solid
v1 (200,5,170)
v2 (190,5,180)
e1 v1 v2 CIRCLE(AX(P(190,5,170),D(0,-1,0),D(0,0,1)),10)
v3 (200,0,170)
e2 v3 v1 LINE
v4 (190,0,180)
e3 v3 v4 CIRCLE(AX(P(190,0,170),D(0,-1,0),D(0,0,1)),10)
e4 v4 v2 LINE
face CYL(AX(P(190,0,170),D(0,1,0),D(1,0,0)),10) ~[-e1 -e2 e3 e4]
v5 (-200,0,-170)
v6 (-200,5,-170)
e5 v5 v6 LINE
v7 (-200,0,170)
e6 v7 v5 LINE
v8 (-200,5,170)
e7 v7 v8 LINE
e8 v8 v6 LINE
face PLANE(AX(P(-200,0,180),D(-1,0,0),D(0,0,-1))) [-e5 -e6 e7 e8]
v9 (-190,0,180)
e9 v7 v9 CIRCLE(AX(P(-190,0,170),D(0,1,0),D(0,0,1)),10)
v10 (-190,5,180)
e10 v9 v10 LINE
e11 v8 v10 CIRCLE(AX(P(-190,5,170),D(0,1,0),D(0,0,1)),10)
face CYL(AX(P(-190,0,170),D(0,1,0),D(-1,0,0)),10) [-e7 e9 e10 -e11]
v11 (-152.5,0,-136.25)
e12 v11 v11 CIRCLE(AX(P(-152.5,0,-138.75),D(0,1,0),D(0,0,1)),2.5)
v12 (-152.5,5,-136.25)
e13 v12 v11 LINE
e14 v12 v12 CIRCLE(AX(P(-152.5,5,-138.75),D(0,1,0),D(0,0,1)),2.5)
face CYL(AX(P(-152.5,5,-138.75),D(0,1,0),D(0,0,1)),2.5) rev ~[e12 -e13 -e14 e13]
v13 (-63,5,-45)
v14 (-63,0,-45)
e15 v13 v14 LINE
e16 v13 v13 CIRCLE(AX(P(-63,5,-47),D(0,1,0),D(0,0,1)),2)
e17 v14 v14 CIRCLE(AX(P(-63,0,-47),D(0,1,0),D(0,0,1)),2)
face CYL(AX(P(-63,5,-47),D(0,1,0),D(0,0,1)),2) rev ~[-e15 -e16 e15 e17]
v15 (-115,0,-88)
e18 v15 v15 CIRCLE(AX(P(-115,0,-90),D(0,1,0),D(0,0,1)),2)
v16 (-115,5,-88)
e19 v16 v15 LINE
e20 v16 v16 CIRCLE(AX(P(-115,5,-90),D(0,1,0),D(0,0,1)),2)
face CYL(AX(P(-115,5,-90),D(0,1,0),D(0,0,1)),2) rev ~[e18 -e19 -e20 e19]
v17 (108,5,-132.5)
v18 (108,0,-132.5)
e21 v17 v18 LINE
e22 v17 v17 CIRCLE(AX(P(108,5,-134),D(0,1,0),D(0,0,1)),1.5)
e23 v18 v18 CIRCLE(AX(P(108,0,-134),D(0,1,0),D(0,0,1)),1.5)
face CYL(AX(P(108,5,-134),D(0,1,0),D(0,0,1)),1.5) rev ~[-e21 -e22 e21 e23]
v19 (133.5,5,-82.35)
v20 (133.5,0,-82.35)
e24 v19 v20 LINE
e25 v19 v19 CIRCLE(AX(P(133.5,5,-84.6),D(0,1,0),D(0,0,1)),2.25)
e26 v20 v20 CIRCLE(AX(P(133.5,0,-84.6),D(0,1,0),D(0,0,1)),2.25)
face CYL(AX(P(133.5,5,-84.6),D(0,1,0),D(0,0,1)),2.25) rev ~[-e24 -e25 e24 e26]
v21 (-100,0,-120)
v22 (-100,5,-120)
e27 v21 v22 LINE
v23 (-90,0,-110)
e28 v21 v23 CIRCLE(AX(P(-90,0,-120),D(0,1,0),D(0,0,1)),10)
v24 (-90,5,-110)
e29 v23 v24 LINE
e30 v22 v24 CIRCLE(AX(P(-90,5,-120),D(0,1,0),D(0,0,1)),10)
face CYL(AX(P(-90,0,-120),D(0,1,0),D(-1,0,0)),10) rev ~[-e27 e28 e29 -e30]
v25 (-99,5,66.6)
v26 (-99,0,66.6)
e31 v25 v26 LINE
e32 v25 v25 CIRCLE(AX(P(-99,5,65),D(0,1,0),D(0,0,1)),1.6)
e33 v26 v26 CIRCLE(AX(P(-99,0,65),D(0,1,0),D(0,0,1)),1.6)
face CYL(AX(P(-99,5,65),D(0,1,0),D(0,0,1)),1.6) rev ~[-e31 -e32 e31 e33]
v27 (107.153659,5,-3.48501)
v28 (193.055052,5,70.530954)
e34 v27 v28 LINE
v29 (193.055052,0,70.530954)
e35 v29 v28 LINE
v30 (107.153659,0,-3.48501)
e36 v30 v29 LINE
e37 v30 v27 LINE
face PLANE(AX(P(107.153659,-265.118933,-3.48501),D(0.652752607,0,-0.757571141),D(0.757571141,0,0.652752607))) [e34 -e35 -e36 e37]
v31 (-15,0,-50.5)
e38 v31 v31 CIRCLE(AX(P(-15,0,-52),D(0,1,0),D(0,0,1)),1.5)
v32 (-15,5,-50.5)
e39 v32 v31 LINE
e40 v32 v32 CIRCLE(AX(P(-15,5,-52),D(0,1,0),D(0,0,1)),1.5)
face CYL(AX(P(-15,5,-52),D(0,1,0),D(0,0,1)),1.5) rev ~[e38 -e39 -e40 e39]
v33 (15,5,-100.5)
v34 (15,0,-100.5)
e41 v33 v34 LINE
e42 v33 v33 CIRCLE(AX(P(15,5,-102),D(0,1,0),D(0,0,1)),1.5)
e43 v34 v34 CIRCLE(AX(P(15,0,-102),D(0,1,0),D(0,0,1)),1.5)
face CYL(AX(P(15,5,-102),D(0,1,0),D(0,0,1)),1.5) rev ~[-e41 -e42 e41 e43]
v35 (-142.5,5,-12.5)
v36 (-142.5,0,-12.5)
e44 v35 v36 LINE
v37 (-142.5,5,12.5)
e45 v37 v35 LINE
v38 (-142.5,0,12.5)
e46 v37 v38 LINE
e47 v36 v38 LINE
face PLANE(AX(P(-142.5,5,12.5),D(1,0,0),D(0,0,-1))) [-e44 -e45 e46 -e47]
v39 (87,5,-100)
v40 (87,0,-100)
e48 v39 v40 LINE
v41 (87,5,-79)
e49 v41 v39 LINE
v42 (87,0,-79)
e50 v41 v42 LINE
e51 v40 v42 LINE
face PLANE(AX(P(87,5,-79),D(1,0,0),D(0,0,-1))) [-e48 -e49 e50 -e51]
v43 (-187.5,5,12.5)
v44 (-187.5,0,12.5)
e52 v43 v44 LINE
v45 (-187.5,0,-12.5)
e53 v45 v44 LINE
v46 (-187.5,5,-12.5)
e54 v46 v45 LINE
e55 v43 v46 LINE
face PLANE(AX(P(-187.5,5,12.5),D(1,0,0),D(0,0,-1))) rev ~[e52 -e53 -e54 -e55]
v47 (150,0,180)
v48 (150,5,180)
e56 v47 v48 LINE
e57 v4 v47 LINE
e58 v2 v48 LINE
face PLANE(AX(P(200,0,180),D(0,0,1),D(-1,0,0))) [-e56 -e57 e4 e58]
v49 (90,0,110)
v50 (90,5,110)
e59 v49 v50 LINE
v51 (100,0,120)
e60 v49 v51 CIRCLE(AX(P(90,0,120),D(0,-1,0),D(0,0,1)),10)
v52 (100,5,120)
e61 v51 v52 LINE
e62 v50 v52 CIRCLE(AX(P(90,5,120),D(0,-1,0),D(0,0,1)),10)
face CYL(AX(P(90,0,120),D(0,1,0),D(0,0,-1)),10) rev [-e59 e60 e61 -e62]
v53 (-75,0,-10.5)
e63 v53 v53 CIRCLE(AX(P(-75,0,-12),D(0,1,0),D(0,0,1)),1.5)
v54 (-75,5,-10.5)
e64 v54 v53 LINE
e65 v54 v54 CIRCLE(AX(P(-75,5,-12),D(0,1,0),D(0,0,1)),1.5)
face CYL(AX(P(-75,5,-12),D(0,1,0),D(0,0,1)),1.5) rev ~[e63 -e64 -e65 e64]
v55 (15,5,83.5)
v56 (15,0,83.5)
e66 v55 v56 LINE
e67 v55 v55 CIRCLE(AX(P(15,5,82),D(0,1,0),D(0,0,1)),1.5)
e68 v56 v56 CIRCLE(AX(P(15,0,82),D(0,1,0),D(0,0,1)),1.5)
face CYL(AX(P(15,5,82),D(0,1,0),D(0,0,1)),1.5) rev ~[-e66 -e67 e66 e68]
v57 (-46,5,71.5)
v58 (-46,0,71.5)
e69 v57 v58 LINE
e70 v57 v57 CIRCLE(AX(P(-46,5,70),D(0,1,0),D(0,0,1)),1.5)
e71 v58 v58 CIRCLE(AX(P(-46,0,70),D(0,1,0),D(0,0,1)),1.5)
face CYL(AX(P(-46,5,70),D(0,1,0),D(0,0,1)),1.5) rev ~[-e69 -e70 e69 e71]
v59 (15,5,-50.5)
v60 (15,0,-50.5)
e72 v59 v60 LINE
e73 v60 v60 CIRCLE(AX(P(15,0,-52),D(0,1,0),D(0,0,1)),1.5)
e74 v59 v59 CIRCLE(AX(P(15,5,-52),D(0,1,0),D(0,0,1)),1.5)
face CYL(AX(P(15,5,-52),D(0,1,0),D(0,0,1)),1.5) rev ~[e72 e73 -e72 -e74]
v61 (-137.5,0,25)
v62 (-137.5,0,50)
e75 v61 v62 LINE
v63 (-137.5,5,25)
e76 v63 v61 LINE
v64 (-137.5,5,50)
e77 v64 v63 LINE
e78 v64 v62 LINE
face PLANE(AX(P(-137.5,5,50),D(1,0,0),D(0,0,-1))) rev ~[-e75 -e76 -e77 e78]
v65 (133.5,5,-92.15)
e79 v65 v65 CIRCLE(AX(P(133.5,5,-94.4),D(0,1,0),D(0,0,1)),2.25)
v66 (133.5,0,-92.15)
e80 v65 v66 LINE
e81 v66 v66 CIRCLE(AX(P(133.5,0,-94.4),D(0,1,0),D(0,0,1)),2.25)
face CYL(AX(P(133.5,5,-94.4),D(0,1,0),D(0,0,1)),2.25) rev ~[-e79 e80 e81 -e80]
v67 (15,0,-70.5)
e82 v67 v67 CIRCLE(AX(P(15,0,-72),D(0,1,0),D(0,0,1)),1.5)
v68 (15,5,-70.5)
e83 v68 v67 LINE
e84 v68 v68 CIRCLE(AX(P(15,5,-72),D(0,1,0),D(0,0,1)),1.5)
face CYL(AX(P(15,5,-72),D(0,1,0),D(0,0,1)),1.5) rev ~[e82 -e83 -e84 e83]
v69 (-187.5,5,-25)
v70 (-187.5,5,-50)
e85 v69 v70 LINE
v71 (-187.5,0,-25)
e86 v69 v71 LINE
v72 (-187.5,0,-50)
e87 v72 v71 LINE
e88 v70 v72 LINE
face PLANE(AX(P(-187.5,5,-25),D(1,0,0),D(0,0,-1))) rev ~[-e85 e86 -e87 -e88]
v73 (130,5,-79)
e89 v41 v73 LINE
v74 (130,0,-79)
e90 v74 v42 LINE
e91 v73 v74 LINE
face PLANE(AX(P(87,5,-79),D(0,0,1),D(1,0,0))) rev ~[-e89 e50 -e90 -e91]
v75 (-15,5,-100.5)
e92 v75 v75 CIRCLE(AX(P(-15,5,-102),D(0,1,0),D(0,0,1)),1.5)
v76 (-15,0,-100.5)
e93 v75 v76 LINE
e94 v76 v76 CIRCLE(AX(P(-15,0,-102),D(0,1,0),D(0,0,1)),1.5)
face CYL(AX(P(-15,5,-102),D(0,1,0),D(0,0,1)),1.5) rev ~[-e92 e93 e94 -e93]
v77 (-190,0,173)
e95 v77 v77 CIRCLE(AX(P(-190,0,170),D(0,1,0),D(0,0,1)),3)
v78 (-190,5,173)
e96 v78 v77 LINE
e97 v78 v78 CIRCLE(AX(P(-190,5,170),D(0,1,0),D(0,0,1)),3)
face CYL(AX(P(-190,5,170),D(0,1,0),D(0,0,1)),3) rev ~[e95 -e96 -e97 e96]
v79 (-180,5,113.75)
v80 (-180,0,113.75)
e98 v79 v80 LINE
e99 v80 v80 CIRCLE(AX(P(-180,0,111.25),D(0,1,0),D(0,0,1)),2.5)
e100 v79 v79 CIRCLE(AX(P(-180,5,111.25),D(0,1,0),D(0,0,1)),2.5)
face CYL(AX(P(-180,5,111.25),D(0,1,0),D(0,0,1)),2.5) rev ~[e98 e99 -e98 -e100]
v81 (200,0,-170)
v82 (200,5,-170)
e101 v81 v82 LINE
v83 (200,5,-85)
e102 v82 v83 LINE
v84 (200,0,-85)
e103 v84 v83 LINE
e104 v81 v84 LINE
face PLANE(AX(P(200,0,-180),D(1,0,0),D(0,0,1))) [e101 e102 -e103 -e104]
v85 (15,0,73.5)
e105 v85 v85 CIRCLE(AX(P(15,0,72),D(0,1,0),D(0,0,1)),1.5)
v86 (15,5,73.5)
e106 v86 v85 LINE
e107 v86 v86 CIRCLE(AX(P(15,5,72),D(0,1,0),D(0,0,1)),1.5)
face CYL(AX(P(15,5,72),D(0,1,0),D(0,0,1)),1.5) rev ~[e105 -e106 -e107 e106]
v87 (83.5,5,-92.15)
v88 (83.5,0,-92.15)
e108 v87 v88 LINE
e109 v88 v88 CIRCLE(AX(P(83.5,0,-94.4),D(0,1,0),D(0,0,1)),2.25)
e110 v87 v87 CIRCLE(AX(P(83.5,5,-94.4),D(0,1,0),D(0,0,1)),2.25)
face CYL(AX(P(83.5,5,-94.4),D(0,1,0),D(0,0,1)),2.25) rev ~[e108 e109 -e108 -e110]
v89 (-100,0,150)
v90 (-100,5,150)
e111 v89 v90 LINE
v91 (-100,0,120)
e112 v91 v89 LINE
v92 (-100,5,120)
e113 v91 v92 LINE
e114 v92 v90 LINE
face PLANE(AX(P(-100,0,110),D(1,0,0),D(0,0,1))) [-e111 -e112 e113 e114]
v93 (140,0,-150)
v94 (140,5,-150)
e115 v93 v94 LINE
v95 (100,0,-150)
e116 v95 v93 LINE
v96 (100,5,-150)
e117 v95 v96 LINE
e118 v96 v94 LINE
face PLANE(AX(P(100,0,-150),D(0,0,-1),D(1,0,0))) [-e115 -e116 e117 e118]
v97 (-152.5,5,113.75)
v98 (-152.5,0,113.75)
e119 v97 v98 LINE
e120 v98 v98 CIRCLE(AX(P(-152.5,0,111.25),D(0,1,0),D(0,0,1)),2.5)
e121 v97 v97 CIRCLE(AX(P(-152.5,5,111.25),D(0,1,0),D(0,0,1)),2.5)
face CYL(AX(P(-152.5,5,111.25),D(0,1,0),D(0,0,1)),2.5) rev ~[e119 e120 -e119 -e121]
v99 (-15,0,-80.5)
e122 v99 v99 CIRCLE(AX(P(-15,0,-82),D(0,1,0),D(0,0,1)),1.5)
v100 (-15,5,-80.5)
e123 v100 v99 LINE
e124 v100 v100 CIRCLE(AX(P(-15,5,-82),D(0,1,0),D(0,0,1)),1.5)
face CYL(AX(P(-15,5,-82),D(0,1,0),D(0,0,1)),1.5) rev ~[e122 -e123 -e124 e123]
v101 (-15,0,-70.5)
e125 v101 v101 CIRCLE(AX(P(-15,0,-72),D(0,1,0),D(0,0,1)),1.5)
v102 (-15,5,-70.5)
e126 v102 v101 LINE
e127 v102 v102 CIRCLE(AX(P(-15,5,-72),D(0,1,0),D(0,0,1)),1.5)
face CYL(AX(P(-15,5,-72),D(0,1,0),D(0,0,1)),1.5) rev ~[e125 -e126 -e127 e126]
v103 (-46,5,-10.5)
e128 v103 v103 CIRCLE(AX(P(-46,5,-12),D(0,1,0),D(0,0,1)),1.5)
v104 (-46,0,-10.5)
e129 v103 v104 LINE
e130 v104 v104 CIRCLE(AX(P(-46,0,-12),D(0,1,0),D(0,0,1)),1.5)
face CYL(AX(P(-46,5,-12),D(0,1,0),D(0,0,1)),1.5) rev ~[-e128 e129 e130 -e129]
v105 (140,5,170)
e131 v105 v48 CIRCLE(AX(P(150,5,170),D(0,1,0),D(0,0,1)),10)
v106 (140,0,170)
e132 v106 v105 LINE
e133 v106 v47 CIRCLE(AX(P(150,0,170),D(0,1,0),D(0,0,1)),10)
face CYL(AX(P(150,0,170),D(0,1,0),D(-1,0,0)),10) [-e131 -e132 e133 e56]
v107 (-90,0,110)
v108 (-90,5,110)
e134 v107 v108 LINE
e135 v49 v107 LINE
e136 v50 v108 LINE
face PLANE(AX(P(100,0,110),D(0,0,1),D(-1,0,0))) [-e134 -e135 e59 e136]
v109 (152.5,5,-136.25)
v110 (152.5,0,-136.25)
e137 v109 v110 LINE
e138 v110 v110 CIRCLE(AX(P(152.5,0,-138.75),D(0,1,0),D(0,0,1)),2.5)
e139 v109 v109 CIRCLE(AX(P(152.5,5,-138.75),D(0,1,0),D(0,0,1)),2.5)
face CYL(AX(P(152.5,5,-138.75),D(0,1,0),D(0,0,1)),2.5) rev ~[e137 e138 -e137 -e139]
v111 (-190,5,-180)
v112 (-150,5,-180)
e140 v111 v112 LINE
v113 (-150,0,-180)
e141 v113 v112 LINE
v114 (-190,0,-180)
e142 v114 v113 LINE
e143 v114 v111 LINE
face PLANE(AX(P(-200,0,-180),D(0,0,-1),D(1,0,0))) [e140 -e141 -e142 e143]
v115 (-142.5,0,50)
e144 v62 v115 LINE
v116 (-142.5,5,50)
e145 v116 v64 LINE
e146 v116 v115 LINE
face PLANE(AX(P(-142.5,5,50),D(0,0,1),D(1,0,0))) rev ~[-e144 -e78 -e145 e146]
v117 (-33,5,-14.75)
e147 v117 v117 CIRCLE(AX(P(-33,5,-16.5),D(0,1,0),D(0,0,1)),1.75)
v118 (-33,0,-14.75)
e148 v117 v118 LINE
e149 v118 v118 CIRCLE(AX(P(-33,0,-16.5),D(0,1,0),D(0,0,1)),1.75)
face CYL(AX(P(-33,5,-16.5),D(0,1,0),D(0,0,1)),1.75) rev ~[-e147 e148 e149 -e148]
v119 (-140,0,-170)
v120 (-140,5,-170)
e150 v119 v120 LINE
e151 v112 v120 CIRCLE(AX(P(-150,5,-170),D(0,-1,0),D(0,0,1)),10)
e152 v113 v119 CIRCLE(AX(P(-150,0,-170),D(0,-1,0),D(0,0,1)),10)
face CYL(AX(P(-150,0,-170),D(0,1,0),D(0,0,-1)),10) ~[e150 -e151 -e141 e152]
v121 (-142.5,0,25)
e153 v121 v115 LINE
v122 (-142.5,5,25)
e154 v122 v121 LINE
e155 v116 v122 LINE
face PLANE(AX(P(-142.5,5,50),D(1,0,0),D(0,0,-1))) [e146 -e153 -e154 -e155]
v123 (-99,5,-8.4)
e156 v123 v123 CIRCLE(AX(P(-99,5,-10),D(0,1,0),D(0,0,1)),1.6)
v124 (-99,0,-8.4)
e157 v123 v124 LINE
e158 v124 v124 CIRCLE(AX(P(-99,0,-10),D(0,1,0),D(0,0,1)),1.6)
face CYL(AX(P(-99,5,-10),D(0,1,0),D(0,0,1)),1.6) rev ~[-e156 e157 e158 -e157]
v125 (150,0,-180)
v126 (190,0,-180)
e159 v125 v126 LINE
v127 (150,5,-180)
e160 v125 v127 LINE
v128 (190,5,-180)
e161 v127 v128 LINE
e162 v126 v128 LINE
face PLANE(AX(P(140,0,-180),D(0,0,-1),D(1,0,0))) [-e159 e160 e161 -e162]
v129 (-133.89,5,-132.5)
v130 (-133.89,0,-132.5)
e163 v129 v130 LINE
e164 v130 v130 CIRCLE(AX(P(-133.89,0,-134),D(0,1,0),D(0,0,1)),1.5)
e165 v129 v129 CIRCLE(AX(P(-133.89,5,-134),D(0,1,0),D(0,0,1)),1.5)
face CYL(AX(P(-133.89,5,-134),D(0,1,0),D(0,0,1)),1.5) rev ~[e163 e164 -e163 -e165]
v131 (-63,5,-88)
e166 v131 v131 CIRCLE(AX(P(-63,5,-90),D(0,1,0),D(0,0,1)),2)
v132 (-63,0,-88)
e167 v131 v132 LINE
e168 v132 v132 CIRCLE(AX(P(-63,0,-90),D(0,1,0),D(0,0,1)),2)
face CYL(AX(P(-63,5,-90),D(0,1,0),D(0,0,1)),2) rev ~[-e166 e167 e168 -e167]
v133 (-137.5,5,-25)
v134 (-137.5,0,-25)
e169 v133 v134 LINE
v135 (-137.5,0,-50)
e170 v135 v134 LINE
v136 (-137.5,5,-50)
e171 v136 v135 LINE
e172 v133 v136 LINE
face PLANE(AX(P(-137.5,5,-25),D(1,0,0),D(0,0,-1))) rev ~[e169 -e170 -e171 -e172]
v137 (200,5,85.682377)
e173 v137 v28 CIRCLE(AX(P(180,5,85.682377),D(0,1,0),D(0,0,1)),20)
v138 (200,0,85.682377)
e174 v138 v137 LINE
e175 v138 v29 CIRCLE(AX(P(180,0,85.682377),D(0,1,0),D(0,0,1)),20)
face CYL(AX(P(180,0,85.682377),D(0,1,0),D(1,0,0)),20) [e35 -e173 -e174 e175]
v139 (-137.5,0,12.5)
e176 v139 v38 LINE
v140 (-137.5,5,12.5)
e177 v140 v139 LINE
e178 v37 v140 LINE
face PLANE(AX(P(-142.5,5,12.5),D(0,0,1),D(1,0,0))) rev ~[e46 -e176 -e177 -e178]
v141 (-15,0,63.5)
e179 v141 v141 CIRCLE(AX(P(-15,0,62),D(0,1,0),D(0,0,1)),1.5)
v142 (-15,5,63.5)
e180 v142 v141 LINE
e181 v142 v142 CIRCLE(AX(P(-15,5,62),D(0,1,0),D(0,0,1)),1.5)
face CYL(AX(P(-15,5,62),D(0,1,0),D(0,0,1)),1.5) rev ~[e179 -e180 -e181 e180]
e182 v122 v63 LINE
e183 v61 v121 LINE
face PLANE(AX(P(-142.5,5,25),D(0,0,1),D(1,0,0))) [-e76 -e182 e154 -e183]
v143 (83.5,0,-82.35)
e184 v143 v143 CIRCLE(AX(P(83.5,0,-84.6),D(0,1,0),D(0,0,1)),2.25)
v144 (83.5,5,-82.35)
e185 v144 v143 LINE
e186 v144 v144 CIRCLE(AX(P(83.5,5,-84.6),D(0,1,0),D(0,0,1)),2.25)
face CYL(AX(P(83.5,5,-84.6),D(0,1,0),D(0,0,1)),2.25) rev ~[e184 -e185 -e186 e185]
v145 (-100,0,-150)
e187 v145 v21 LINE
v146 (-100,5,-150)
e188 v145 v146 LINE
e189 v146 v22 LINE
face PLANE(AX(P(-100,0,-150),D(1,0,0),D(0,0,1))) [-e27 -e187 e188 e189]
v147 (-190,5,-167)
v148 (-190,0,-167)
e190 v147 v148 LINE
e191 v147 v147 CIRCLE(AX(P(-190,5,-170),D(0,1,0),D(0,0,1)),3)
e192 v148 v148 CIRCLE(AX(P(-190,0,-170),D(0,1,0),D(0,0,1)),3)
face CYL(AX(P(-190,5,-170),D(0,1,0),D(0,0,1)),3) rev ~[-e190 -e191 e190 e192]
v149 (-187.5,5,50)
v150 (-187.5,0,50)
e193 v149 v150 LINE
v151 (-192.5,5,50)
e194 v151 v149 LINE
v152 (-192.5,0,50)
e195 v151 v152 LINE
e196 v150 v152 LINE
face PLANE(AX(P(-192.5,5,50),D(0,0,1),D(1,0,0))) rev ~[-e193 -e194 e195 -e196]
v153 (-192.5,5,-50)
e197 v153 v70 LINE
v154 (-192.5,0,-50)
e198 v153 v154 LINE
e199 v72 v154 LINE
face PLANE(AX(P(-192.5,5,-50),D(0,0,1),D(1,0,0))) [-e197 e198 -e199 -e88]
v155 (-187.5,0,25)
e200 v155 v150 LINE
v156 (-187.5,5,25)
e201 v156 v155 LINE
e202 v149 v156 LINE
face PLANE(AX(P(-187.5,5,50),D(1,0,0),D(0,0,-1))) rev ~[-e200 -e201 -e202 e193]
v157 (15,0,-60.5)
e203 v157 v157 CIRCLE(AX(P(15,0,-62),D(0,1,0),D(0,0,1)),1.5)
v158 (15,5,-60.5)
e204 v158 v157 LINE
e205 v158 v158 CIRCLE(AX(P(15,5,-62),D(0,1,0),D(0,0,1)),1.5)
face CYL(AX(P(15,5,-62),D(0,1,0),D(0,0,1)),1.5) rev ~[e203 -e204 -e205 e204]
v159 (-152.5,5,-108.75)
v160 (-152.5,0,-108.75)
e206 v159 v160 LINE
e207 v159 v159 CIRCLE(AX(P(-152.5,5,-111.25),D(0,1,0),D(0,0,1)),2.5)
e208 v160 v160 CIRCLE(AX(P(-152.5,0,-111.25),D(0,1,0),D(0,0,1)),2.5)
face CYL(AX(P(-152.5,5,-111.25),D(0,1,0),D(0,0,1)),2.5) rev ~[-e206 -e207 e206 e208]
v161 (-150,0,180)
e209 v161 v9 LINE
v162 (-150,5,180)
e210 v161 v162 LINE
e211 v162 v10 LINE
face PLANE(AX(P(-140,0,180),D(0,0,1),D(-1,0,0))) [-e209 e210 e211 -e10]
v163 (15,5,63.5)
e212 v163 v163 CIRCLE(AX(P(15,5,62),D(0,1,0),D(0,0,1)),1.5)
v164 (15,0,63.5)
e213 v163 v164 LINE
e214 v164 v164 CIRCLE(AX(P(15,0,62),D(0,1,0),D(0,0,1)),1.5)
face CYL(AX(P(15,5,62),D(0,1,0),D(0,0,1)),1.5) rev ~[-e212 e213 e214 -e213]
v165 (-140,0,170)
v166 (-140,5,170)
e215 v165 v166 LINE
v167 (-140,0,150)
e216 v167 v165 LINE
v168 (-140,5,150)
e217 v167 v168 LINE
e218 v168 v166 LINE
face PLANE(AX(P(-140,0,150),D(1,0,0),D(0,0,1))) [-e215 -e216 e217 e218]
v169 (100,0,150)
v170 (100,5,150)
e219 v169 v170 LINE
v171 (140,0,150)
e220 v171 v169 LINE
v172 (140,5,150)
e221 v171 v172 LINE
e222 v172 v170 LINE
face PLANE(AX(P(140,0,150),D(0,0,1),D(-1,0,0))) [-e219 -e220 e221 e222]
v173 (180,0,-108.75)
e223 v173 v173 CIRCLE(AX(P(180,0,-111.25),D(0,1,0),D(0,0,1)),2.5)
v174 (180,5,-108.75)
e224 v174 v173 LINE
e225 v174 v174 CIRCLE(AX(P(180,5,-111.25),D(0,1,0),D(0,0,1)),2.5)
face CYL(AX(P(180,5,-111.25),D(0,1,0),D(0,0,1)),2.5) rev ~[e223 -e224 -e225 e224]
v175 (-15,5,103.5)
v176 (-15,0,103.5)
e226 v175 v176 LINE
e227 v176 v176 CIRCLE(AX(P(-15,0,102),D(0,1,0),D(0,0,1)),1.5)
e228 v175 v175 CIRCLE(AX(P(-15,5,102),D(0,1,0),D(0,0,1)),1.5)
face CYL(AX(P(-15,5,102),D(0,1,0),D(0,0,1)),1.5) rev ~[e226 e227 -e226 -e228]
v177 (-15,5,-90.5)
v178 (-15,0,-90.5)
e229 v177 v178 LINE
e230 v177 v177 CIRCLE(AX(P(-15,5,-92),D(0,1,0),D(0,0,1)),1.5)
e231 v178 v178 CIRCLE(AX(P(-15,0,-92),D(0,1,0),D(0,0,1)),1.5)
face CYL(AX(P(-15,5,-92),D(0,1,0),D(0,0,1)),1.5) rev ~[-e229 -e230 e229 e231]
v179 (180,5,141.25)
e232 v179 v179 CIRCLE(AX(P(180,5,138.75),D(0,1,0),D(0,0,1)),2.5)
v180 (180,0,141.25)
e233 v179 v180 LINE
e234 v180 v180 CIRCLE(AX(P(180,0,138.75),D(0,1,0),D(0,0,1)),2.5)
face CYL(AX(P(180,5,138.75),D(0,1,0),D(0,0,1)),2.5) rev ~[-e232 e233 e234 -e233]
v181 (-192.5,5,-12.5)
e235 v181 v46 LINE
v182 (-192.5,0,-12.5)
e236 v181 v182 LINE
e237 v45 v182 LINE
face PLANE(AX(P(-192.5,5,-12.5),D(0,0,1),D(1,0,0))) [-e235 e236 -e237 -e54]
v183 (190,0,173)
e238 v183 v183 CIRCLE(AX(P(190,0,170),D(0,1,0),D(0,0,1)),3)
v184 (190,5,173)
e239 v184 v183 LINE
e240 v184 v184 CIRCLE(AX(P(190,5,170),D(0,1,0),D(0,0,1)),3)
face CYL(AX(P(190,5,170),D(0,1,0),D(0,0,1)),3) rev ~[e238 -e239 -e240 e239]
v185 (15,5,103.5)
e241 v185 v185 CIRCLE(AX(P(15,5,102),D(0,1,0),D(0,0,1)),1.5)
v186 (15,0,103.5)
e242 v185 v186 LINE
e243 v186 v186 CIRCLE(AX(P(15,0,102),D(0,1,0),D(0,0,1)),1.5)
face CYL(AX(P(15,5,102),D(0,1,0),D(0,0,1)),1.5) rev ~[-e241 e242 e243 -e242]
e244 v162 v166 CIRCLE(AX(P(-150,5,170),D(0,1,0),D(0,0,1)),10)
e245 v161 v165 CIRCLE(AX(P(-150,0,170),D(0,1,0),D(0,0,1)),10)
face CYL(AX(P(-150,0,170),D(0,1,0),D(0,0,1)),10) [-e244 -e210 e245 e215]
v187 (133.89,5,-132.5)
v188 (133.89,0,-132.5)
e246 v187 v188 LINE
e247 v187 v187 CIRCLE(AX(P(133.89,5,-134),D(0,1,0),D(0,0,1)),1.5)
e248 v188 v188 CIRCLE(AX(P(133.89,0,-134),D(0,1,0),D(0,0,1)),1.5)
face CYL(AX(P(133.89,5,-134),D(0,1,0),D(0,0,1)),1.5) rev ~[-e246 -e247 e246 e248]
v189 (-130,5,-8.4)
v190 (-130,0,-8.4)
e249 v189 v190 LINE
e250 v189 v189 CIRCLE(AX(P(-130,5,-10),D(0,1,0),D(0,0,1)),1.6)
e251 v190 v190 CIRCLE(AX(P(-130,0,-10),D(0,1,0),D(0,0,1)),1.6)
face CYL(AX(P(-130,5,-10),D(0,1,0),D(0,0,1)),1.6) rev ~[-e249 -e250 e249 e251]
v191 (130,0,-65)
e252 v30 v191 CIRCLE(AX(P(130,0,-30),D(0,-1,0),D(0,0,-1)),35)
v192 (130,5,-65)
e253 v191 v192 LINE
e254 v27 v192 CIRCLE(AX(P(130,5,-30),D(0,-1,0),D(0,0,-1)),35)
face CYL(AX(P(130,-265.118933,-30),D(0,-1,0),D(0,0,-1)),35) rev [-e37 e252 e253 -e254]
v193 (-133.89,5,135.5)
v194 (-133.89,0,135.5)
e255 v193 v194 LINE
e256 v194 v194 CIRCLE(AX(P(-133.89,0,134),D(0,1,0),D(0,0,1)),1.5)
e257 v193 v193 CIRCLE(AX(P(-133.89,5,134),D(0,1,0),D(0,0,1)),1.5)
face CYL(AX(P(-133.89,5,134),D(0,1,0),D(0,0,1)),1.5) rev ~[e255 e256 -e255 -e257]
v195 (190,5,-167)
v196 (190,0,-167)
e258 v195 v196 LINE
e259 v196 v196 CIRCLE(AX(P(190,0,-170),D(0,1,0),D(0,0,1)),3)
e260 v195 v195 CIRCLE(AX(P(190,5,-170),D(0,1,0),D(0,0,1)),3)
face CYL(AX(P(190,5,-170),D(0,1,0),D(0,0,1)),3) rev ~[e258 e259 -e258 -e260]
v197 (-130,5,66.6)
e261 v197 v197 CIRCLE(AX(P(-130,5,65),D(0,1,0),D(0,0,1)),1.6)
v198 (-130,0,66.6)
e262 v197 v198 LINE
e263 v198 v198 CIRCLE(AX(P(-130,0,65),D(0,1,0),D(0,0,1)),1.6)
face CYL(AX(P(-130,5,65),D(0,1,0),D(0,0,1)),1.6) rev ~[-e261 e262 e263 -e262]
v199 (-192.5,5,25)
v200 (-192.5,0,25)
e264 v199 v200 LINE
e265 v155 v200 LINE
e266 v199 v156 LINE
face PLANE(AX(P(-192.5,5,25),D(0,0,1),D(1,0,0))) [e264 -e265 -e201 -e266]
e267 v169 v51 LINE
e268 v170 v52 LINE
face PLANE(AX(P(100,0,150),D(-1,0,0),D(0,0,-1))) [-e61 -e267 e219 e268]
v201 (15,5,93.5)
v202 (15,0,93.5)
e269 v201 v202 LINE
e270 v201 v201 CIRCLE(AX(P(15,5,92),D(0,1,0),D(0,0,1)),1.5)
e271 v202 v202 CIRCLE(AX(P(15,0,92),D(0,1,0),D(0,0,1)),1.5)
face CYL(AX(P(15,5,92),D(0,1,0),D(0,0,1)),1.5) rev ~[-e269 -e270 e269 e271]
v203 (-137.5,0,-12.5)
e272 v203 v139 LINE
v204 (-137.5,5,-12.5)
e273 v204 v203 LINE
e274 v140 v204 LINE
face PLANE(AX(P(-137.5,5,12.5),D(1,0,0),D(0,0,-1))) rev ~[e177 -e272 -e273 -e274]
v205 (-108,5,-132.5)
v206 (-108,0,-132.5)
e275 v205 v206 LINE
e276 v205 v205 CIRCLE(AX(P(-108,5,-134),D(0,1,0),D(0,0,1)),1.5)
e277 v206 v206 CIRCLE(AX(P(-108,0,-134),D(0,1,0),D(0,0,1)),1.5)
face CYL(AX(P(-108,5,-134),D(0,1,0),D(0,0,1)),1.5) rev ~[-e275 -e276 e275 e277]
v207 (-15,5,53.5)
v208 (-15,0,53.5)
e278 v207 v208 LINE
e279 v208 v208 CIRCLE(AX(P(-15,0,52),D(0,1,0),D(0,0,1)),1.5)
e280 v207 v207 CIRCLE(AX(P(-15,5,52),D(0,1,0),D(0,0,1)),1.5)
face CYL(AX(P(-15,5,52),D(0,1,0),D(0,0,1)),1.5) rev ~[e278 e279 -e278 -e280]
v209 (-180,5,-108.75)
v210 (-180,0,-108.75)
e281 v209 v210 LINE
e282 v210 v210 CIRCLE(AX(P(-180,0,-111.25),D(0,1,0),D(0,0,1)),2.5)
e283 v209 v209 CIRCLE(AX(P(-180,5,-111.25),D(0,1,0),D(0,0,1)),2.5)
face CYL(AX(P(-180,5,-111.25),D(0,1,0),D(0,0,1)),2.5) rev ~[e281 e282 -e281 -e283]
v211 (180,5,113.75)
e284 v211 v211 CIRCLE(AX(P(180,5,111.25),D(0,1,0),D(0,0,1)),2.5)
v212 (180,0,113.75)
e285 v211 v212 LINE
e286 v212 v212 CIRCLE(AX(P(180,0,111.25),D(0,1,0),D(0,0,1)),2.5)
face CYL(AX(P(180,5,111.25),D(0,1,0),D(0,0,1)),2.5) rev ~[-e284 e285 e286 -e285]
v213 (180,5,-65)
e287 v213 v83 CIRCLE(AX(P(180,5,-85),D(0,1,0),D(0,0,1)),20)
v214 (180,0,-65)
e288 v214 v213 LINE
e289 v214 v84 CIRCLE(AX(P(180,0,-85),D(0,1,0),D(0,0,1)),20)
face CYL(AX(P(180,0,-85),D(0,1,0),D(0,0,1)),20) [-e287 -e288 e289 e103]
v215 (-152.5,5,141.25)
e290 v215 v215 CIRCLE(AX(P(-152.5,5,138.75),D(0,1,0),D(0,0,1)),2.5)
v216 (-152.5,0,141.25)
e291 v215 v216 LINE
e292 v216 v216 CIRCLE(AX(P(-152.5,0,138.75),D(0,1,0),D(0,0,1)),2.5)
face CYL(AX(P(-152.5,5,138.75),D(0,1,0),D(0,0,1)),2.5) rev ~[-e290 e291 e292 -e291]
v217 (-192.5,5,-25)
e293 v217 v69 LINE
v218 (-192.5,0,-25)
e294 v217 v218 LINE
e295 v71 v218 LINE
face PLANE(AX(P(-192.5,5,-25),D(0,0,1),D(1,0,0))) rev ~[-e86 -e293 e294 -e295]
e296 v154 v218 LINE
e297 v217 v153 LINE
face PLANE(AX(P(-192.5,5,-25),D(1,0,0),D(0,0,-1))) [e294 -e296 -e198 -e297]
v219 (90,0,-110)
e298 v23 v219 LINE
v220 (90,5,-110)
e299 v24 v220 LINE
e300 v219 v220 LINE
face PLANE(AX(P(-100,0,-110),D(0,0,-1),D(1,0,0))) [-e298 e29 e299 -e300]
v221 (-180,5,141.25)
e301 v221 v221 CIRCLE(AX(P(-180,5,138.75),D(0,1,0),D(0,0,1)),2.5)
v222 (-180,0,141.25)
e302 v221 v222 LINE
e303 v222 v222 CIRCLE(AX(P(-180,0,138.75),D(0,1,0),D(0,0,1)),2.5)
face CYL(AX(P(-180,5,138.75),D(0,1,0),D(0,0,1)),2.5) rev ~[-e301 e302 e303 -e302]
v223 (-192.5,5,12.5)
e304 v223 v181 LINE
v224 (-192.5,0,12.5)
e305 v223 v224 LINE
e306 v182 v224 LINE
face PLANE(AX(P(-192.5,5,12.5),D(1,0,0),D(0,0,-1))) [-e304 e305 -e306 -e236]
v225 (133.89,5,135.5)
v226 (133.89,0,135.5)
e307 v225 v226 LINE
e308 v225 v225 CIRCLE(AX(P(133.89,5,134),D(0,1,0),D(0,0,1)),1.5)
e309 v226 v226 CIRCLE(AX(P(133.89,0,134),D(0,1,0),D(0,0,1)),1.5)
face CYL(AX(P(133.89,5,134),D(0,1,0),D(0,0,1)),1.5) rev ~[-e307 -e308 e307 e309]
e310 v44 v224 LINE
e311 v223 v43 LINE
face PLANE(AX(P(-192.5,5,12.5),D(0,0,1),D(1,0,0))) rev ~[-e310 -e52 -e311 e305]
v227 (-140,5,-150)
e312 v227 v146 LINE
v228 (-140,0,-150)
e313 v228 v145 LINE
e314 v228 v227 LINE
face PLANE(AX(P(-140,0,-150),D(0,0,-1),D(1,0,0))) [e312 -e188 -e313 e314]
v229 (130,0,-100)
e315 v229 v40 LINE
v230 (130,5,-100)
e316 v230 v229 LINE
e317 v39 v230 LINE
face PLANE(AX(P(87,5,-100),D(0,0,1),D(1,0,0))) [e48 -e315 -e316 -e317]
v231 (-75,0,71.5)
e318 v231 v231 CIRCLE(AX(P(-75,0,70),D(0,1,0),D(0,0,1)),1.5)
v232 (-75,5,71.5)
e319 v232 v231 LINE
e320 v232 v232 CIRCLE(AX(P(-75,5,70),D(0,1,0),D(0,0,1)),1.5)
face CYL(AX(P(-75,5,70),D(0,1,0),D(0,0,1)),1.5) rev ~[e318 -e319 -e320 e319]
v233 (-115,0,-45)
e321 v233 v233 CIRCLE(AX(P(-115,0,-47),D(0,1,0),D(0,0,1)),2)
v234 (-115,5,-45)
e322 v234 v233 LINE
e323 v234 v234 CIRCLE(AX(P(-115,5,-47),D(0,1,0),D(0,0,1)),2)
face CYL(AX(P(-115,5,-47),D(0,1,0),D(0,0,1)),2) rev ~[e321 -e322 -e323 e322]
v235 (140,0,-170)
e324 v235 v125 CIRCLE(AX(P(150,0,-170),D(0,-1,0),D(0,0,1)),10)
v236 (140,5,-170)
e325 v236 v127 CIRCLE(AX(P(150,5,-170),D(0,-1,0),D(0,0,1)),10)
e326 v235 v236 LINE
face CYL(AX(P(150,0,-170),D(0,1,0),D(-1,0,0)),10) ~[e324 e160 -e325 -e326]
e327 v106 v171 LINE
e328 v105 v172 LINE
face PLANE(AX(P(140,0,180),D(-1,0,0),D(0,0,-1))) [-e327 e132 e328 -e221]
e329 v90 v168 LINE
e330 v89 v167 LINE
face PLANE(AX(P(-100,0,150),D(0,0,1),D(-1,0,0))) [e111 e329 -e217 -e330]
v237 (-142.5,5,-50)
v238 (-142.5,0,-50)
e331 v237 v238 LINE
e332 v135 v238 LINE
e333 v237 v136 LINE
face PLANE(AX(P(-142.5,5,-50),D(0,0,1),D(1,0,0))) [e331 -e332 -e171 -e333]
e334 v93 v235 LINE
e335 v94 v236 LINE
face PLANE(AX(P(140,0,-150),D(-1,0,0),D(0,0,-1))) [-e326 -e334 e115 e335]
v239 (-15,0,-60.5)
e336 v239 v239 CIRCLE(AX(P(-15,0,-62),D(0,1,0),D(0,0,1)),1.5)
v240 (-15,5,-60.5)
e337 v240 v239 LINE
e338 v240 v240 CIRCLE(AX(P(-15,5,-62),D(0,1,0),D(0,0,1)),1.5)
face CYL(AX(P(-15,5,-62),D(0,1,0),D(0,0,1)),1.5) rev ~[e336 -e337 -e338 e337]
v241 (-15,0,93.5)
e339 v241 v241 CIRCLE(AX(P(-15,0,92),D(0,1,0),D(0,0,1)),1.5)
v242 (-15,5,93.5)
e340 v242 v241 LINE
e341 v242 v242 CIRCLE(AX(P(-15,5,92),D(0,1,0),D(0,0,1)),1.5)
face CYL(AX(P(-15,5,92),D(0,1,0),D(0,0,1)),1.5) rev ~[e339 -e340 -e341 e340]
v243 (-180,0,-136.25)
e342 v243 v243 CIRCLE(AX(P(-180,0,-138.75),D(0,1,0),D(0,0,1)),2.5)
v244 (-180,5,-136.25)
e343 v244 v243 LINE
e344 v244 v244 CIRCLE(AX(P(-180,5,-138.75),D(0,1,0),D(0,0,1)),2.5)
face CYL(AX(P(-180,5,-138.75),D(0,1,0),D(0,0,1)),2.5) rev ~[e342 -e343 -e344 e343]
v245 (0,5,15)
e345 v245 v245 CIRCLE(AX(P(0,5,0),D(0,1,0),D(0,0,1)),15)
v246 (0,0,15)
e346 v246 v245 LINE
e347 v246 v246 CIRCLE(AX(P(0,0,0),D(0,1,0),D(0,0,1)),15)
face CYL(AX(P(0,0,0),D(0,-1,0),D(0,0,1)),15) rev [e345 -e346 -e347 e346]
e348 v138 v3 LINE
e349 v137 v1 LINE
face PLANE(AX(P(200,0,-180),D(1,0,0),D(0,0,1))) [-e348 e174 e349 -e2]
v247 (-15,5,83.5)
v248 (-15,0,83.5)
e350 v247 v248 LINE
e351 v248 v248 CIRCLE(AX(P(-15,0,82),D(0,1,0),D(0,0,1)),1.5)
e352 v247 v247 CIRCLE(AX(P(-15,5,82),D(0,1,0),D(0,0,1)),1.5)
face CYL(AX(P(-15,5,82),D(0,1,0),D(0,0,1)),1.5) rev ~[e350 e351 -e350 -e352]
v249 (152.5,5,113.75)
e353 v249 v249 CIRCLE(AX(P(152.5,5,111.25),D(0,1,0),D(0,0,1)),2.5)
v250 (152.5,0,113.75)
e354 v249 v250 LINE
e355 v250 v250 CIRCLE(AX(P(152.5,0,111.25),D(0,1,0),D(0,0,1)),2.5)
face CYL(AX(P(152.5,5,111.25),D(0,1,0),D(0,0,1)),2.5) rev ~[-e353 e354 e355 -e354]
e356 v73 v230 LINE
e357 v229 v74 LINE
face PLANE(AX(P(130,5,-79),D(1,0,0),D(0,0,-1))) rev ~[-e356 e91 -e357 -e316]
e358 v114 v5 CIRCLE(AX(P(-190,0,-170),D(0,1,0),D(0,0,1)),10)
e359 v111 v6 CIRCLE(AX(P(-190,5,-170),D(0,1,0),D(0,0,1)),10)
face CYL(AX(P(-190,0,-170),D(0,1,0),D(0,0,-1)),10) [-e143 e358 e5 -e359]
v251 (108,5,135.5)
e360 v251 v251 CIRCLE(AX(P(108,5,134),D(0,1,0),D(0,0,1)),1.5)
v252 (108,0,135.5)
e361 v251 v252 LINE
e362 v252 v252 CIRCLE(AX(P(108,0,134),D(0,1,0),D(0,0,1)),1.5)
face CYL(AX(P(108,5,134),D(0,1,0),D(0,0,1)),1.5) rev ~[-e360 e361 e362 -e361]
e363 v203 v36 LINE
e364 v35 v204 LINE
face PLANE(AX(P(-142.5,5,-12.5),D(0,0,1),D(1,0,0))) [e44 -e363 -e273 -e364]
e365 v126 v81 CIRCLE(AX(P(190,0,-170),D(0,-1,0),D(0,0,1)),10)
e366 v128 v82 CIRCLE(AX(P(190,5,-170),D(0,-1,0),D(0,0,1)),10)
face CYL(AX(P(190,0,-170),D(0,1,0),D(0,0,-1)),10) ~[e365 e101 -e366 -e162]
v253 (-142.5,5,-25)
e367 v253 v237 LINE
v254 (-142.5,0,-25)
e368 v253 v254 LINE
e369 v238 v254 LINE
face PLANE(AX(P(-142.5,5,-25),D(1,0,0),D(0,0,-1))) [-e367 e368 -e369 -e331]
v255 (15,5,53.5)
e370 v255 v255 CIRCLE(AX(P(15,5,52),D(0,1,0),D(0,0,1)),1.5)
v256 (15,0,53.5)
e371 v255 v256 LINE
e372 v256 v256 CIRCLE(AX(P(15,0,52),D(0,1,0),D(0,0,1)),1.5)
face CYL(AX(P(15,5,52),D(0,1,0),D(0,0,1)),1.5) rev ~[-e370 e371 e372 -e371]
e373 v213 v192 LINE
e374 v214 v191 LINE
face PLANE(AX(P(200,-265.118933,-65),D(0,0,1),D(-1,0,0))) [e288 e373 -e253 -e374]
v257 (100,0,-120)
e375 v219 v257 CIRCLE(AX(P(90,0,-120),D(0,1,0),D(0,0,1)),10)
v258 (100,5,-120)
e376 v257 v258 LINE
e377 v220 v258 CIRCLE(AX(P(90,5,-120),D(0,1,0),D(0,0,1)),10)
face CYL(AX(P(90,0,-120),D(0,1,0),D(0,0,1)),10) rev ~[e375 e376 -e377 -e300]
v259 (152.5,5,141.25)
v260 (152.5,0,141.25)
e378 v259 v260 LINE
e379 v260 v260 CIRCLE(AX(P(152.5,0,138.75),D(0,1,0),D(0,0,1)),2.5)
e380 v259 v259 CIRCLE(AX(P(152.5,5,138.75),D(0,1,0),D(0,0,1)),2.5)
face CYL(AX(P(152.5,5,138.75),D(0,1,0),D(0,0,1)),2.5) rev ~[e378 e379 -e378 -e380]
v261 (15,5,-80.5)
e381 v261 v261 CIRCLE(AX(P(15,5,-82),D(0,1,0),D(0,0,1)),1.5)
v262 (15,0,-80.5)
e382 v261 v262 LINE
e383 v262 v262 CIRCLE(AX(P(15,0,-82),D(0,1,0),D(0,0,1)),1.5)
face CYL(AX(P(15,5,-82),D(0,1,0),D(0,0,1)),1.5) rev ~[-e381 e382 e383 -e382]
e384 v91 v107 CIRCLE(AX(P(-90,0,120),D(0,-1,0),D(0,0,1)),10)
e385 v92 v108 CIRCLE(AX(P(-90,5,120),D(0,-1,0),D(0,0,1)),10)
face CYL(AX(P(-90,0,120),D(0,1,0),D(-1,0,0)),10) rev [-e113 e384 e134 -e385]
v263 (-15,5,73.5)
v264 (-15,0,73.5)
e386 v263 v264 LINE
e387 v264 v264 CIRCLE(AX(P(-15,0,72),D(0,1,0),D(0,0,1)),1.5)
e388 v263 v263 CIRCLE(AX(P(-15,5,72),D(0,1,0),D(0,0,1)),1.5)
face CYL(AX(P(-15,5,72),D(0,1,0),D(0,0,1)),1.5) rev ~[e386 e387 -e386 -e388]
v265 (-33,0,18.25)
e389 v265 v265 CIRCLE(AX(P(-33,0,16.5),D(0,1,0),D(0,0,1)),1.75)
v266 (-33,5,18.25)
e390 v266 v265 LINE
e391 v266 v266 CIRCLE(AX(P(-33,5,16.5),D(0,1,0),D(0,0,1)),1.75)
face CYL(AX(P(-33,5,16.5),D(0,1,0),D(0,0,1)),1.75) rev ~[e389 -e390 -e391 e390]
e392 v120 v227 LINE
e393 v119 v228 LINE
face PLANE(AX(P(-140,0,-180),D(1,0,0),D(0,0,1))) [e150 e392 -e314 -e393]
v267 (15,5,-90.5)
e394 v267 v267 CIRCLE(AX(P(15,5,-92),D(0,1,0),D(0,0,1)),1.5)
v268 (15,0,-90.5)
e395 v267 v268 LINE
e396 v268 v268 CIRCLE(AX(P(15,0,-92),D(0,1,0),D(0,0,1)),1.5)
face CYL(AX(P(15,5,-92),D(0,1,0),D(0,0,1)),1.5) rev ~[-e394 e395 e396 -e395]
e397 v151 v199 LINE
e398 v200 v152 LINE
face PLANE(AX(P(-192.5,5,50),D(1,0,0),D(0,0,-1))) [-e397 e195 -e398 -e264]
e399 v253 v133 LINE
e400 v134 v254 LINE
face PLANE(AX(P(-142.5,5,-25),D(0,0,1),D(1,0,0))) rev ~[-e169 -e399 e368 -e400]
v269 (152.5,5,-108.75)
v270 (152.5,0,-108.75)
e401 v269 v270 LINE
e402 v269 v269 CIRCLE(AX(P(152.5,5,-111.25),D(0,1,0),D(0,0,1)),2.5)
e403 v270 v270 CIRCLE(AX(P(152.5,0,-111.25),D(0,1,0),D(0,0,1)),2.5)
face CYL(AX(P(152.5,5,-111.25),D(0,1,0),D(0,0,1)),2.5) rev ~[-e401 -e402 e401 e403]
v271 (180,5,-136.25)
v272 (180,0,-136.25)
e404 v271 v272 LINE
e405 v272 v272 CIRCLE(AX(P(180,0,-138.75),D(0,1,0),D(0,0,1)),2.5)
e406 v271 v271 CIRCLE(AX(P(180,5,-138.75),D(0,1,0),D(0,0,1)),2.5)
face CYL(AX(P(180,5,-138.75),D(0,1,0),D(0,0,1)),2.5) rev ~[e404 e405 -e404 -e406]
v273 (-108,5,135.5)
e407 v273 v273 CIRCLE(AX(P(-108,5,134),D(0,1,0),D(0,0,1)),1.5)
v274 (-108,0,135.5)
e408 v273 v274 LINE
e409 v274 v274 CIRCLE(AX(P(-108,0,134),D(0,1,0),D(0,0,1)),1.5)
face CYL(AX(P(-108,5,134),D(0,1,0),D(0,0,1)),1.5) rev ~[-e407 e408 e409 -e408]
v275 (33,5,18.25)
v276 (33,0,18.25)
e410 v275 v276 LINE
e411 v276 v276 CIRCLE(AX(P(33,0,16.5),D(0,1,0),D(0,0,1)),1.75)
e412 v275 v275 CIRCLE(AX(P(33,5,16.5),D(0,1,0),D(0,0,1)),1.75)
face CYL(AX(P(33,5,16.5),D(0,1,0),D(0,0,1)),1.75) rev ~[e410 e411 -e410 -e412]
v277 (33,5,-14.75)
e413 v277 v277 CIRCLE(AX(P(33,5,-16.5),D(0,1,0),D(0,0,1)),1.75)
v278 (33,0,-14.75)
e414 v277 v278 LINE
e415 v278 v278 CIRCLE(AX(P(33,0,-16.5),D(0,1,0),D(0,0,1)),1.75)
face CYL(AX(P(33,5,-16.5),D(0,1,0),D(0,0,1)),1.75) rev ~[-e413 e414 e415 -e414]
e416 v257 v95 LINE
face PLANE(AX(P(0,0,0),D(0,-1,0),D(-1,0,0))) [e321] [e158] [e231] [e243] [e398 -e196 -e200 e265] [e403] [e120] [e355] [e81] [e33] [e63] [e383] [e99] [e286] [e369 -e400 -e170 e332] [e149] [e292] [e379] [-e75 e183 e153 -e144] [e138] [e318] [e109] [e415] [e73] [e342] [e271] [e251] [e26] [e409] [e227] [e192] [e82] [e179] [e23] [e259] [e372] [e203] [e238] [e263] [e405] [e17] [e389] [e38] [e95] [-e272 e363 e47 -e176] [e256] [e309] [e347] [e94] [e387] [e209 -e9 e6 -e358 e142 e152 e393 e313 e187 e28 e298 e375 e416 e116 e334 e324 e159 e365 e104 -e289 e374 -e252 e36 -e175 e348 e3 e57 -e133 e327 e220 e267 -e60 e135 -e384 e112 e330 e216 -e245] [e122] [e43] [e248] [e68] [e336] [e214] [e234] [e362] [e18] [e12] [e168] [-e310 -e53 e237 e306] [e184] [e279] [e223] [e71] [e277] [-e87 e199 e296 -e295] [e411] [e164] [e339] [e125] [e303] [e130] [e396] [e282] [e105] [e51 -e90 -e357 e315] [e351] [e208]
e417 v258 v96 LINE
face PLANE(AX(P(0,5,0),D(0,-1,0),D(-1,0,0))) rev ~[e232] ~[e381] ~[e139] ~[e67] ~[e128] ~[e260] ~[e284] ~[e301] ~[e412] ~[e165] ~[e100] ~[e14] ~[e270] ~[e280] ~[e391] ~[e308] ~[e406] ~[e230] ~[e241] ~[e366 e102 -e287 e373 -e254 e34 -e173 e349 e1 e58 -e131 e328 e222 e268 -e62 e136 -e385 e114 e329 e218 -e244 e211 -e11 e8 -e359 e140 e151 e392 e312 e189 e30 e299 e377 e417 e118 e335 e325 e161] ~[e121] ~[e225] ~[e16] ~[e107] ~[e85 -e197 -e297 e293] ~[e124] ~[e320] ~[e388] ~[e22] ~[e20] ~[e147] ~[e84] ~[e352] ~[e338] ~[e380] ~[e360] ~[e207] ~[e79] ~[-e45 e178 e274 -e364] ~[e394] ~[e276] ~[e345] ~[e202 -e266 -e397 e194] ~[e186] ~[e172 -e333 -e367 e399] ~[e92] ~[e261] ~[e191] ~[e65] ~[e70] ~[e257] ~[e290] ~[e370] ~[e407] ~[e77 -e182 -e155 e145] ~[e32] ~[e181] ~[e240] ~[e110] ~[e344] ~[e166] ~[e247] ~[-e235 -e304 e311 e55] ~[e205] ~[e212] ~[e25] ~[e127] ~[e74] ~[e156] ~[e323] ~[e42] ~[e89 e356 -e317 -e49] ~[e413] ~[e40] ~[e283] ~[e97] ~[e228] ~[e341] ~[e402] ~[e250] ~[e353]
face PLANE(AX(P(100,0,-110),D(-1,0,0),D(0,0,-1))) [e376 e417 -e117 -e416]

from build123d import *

# Parameters (mm, degrees)
SKETCH_4_R                = 15
EXTRUDE_1_DEPTH           = 5
SKETCH_6_R                = 1.5
SKETCH_6_R_2              = 2
SKETCH_6_R_3              = 1.6
SKETCH_6_R_4              = 1.75
CUT_EXTRUDE_2_DEPTH       = 5
SKETCH_7_R                = 1.5
CUT_EXTRUDE_3_DEPTH       = 270.118932816
SKETCH_8_R                = 3
CUT_EXTRUDE_4_DEPTH       = 10
SKETCH_10_W               = 5
SKETCH_10_H               = 25
CUT_EXTRUDE_6_DEPTH       = 10
SKETCH_13_R               = 2.5
CUT_EXTRUDE_8_DEPTH       = 10
SKETCH_17_R               = 1.5
CUT_EXTRUDE_11_DEPTH      = 10
FILLET_1_R                = 10
CUT_EXTRUDE_13_DEPTH      = 270.118932816
CUT_EXTRUDE_13_DEPTH_BACK = 270.118932816
FILLET_2_R                = 20
SKETCH_21_R               = 2.25
SKETCH_21_W               = 43
SKETCH_21_H               = 21
CUT_EXTRUDE_14_DEPTH      = 10


with BuildPart() as part:
    # 草圖4 → 伸長1 (new body)
    with BuildSketch(Plane(origin=(0, 0, 0), x_dir=(1, 0, 0), z_dir=(0, 1, 0))):
        Polygon((-200, 180), (-140, 180), (-140, 150), (-100, 150), (-100, 110), (100, 110), (100, 150), (140, 150), (140, 180), (200, 180), (200, -180), (140, -180), (140, -150), (100, -150), (100, -110), (-100, -110), (-100, -150), (-140, -150), (-140, -180), (-200, -180), align=None)
        with Locations(Location((0, 0, 0), (0, 0, 270))):
            Circle(SKETCH_4_R, mode=Mode.SUBTRACT)
    extrude(amount=EXTRUDE_1_DEPTH)

    # 草圖6 → 伸長2 (cut)
    with BuildSketch(Plane(origin=(0, 5, 0), x_dir=(-1, 0, 0), z_dir=(0, 1, 0))):
        with Locations(Location((75, -12, 0), (0, 0, 90))):
            Circle(SKETCH_6_R)
        with Locations(Location((46, -12, 0), (0, 0, 90))):
            Circle(SKETCH_6_R)
        with Locations(Location((46, 70, 0), (0, 0, 90))):
            Circle(SKETCH_6_R)
        with Locations(Location((75, 70, 0), (0, 0, 90))):
            Circle(SKETCH_6_R)
        with Locations(Location((63, -90, 0), (0, 0, 90))):
            Circle(SKETCH_6_R_2)
        with Locations(Location((115, -90, 0), (0, 0, 90))):
            Circle(SKETCH_6_R_2)
        with Locations(Location((115, -47, 0), (0, 0, 90))):
            Circle(SKETCH_6_R_2)
        with Locations(Location((63, -47, 0), (0, 0, 90))):
            Circle(SKETCH_6_R_2)
        with Locations(Location((130, -10, 0), (0, 0, 90))):
            Circle(SKETCH_6_R_3)
        with Locations(Location((130, 65, 0), (0, 0, 90))):
            Circle(SKETCH_6_R_3)
        with Locations(Location((99, 65, 0), (0, 0, 90))):
            Circle(SKETCH_6_R_3)
        with Locations(Location((99, -10, 0), (0, 0, 90))):
            Circle(SKETCH_6_R_3)
        with Locations(Location((33, 16.5, 0), (0, 0, 90))):
            Circle(SKETCH_6_R_4)
        with Locations(Location((33, -16.5, 0), (0, 0, 90))):
            Circle(SKETCH_6_R_4)
        with Locations(Location((-33, -16.5, 0), (0, 0, 90))):
            Circle(SKETCH_6_R_4)
        with Locations(Location((-33, 16.5, 0), (0, 0, 90))):
            Circle(SKETCH_6_R_4)
    extrude(amount=-CUT_EXTRUDE_2_DEPTH, mode=Mode.SUBTRACT)

    # 草圖7 → 伸長3 (cut, through all)
    with BuildSketch(Plane(origin=(0, 5, 0), x_dir=(1, 0, 0), z_dir=(0, 1, 0))):
        with Locations(Location((-15, -102, 0), (0, 0, 270))):
            Circle(SKETCH_7_R)
        with Locations(Location((-15, -92, 0), (0, 0, 270))):
            Circle(SKETCH_7_R)
        with Locations(Location((-15, -82, 0), (0, 0, 270))):
            Circle(SKETCH_7_R)
        with Locations(Location((-15, -72, 0), (0, 0, 270))):
            Circle(SKETCH_7_R)
        with Locations(Location((-15, -62, 0), (0, 0, 270))):
            Circle(SKETCH_7_R)
        with Locations(Location((-15, -52, 0), (0, 0, 270))):
            Circle(SKETCH_7_R)
        with Locations(Location((15, -102, 0), (0, 0, 270))):
            Circle(SKETCH_7_R)
        with Locations(Location((15, -92, 0), (0, 0, 270))):
            Circle(SKETCH_7_R)
        with Locations(Location((15, -72, 0), (0, 0, 270))):
            Circle(SKETCH_7_R)
        with Locations(Location((15, -62, 0), (0, 0, 270))):
            Circle(SKETCH_7_R)
        with Locations(Location((15, -52, 0), (0, 0, 270))):
            Circle(SKETCH_7_R)
        with Locations(Location((15, -82, 0), (0, 0, 270))):
            Circle(SKETCH_7_R)
        with Locations(Location((-15, 52, 0), (0, 0, 270))):
            Circle(SKETCH_7_R)
        with Locations(Location((-15, 62, 0), (0, 0, 270))):
            Circle(SKETCH_7_R)
        with Locations(Location((-15, 72, 0), (0, 0, 270))):
            Circle(SKETCH_7_R)
        with Locations(Location((-15, 82, 0), (0, 0, 270))):
            Circle(SKETCH_7_R)
        with Locations(Location((-15, 92, 0), (0, 0, 270))):
            Circle(SKETCH_7_R)
        with Locations(Location((-15, 102, 0), (0, 0, 270))):
            Circle(SKETCH_7_R)
        with Locations(Location((15, 52, 0), (0, 0, 270))):
            Circle(SKETCH_7_R)
        with Locations(Location((15, 62, 0), (0, 0, 270))):
            Circle(SKETCH_7_R)
        with Locations(Location((15, 82, 0), (0, 0, 270))):
            Circle(SKETCH_7_R)
        with Locations(Location((15, 92, 0), (0, 0, 270))):
            Circle(SKETCH_7_R)
        with Locations(Location((15, 102, 0), (0, 0, 270))):
            Circle(SKETCH_7_R)
        with Locations(Location((15, 72, 0), (0, 0, 270))):
            Circle(SKETCH_7_R)
    extrude(amount=-CUT_EXTRUDE_3_DEPTH, mode=Mode.SUBTRACT)

    # 草圖8 → 伸長4 (cut)
    with BuildSketch(Plane(origin=(0, 5, 0), x_dir=(1, 0, 0), z_dir=(0, 1, 0))):
        with Locations(Location((190, 170, 0), (0, 0, 270))):
            Circle(SKETCH_8_R)
        with Locations(Location((-190, 170, 0), (0, 0, 270))):
            Circle(SKETCH_8_R)
        with Locations(Location((-190, -170, 0), (0, 0, 270))):
            Circle(SKETCH_8_R)
        with Locations(Location((190, -170, 0), (0, 0, 270))):
            Circle(SKETCH_8_R)
    extrude(amount=-CUT_EXTRUDE_4_DEPTH, mode=Mode.SUBTRACT)

    # 草圖10 → 伸長6 (cut)
    with BuildSketch(Plane(origin=(0, 5, 0), x_dir=(1, 0, 0), z_dir=(0, 1, 0))):
        with Locations((-140, -37.5)):
            Rectangle(SKETCH_10_W, SKETCH_10_H)
        with Locations((-190, -37.5)):
            Rectangle(SKETCH_10_W, SKETCH_10_H)
        with Locations((-140, 37.5)):
            Rectangle(SKETCH_10_W, SKETCH_10_H)
        with Locations((-190, 37.5)):
            Rectangle(SKETCH_10_W, SKETCH_10_H)
        with Locations((-190, 0)):
            Rectangle(SKETCH_10_W, SKETCH_10_H)
        with Locations((-140, 0)):
            Rectangle(SKETCH_10_W, SKETCH_10_H)
    extrude(amount=-CUT_EXTRUDE_6_DEPTH, mode=Mode.SUBTRACT)

    # 草圖13 → 伸長8 (cut)
    with BuildSketch(Plane(origin=(0, 5, 0), x_dir=(-1, 0, 0), z_dir=(0, 1, 0))):
        with Locations(Location((180, -138.75, 0), (0, 0, 90))):
            Circle(SKETCH_13_R)
        with Locations(Location((152.5, -138.75, 0), (0, 0, 90))):
            Circle(SKETCH_13_R)
        with Locations(Location((152.5, -111.25, 0), (0, 0, 90))):
            Circle(SKETCH_13_R)
        with Locations(Location((180, -111.25, 0), (0, 0, 90))):
            Circle(SKETCH_13_R)
        with Locations(Location((-152.5, -138.75, 0), (0, 0, 90))):
            Circle(SKETCH_13_R)
        with Locations(Location((-180, -138.75, 0), (0, 0, 90))):
            Circle(SKETCH_13_R)
        with Locations(Location((-180, -111.25, 0), (0, 0, 90))):
            Circle(SKETCH_13_R)
        with Locations(Location((-152.5, -111.25, 0), (0, 0, 90))):
            Circle(SKETCH_13_R)
        with Locations(Location((180, 111.25, 0), (0, 0, 90))):
            Circle(SKETCH_13_R)
        with Locations(Location((152.5, 111.25, 0), (0, 0, 90))):
            Circle(SKETCH_13_R)
        with Locations(Location((152.5, 138.75, 0), (0, 0, 90))):
            Circle(SKETCH_13_R)
        with Locations(Location((180, 138.75, 0), (0, 0, 90))):
            Circle(SKETCH_13_R)
        with Locations(Location((-152.5, 111.25, 0), (0, 0, 90))):
            Circle(SKETCH_13_R)
        with Locations(Location((-180, 111.25, 0), (0, 0, 90))):
            Circle(SKETCH_13_R)
        with Locations(Location((-180, 138.75, 0), (0, 0, 90))):
            Circle(SKETCH_13_R)
        with Locations(Location((-152.5, 138.75, 0), (0, 0, 90))):
            Circle(SKETCH_13_R)
    extrude(amount=-CUT_EXTRUDE_8_DEPTH, mode=Mode.SUBTRACT)

    # 草圖17 → 伸長11 (cut)
    with BuildSketch(Plane(origin=(0, 5, 0), x_dir=(-1, 0, 0), z_dir=(0, 1, 0))):
        with Locations(Location((-108, -134, 0), (0, 0, 90))):
            Circle(SKETCH_17_R)
        with Locations(Location((-133.89, -134, 0), (0, 0, 90))):
            Circle(SKETCH_17_R)
        with Locations(Location((-108, 134, 0), (0, 0, 90))):
            Circle(SKETCH_17_R)
        with Locations(Location((-133.89, 134, 0), (0, 0, 90))):
            Circle(SKETCH_17_R)
        with Locations(Location((133.89, -134, 0), (0, 0, 90))):
            Circle(SKETCH_17_R)
        with Locations(Location((108, -134, 0), (0, 0, 90))):
            Circle(SKETCH_17_R)
        with Locations(Location((133.89, 134, 0), (0, 0, 90))):
            Circle(SKETCH_17_R)
        with Locations(Location((108, 134, 0), (0, 0, 90))):
            Circle(SKETCH_17_R)
    extrude(amount=-CUT_EXTRUDE_11_DEPTH, mode=Mode.SUBTRACT)

    # 圓角1
    fillet_1_edges = [part.edges().sort_by_distance(p)[0] for p in [
        (-200, 2.5, -180),
        (-140, 2.5, -180),
        (-100, 2.5, -110),
        (100, 2.5, -110),
        (140, 2.5, -180),
        (200, 2.5, -180),
        (200, 2.5, 180),
        (140, 2.5, 180),
        (100, 2.5, 110),
        (-100, 2.5, 110),
        (-140, 2.5, 180),
        (-200, 2.5, 180),
    ]]
    fillet(fillet_1_edges, radius=FILLET_1_R)

    # 草圖19 → 伸長13 (cut, two sides: drawn at the far end of the back side and taken through both)
    with BuildSketch(Plane(origin=(0, 5, 0), x_dir=(1, 0, 0), z_dir=(0, 1, 0)).offset(-CUT_EXTRUDE_13_DEPTH_BACK)):
        with BuildLine():
            Line((200, 65), (130, 65))
            ThreePointArc((130, 65), (97.189752759, 42.185551936), (107.153658755, 3.485010057))
            Line((107.153658755, 3.485010057), (200, -76.514989943))
            Line((200, -76.514989943), (200, 65))
        make_face()
    extrude(amount=CUT_EXTRUDE_13_DEPTH + CUT_EXTRUDE_13_DEPTH_BACK, mode=Mode.SUBTRACT)

    # 圓角2
    fillet_2_edges = [part.edges().sort_by_distance(p)[0] for p in [
        (200, 2.5, 76.514989943),
        (200, 2.5, -65),
    ]]
    fillet(fillet_2_edges, radius=FILLET_2_R)

    # 草圖21 → 伸長14 (cut)
    with BuildSketch(Plane(origin=(0, 5, 0), x_dir=(1, 0, 0), z_dir=(0, 1, 0))):
        with Locations(Location((83.5, 94.4, 0), (0, 0, 270))):
            Circle(SKETCH_21_R)
        with Locations(Location((83.5, 84.6, 0), (0, 0, 270))):
            Circle(SKETCH_21_R)
        with Locations(Location((133.5, 84.6, 0), (0, 0, 270))):
            Circle(SKETCH_21_R)
        with Locations(Location((133.5, 94.4, 0), (0, 0, 270))):
            Circle(SKETCH_21_R)
        with Locations((108.5, 89.5)):
            Rectangle(SKETCH_21_W, SKETCH_21_H)
    extrude(amount=-CUT_EXTRUDE_14_DEPTH, mode=Mode.SUBTRACT)


solid = part.part
